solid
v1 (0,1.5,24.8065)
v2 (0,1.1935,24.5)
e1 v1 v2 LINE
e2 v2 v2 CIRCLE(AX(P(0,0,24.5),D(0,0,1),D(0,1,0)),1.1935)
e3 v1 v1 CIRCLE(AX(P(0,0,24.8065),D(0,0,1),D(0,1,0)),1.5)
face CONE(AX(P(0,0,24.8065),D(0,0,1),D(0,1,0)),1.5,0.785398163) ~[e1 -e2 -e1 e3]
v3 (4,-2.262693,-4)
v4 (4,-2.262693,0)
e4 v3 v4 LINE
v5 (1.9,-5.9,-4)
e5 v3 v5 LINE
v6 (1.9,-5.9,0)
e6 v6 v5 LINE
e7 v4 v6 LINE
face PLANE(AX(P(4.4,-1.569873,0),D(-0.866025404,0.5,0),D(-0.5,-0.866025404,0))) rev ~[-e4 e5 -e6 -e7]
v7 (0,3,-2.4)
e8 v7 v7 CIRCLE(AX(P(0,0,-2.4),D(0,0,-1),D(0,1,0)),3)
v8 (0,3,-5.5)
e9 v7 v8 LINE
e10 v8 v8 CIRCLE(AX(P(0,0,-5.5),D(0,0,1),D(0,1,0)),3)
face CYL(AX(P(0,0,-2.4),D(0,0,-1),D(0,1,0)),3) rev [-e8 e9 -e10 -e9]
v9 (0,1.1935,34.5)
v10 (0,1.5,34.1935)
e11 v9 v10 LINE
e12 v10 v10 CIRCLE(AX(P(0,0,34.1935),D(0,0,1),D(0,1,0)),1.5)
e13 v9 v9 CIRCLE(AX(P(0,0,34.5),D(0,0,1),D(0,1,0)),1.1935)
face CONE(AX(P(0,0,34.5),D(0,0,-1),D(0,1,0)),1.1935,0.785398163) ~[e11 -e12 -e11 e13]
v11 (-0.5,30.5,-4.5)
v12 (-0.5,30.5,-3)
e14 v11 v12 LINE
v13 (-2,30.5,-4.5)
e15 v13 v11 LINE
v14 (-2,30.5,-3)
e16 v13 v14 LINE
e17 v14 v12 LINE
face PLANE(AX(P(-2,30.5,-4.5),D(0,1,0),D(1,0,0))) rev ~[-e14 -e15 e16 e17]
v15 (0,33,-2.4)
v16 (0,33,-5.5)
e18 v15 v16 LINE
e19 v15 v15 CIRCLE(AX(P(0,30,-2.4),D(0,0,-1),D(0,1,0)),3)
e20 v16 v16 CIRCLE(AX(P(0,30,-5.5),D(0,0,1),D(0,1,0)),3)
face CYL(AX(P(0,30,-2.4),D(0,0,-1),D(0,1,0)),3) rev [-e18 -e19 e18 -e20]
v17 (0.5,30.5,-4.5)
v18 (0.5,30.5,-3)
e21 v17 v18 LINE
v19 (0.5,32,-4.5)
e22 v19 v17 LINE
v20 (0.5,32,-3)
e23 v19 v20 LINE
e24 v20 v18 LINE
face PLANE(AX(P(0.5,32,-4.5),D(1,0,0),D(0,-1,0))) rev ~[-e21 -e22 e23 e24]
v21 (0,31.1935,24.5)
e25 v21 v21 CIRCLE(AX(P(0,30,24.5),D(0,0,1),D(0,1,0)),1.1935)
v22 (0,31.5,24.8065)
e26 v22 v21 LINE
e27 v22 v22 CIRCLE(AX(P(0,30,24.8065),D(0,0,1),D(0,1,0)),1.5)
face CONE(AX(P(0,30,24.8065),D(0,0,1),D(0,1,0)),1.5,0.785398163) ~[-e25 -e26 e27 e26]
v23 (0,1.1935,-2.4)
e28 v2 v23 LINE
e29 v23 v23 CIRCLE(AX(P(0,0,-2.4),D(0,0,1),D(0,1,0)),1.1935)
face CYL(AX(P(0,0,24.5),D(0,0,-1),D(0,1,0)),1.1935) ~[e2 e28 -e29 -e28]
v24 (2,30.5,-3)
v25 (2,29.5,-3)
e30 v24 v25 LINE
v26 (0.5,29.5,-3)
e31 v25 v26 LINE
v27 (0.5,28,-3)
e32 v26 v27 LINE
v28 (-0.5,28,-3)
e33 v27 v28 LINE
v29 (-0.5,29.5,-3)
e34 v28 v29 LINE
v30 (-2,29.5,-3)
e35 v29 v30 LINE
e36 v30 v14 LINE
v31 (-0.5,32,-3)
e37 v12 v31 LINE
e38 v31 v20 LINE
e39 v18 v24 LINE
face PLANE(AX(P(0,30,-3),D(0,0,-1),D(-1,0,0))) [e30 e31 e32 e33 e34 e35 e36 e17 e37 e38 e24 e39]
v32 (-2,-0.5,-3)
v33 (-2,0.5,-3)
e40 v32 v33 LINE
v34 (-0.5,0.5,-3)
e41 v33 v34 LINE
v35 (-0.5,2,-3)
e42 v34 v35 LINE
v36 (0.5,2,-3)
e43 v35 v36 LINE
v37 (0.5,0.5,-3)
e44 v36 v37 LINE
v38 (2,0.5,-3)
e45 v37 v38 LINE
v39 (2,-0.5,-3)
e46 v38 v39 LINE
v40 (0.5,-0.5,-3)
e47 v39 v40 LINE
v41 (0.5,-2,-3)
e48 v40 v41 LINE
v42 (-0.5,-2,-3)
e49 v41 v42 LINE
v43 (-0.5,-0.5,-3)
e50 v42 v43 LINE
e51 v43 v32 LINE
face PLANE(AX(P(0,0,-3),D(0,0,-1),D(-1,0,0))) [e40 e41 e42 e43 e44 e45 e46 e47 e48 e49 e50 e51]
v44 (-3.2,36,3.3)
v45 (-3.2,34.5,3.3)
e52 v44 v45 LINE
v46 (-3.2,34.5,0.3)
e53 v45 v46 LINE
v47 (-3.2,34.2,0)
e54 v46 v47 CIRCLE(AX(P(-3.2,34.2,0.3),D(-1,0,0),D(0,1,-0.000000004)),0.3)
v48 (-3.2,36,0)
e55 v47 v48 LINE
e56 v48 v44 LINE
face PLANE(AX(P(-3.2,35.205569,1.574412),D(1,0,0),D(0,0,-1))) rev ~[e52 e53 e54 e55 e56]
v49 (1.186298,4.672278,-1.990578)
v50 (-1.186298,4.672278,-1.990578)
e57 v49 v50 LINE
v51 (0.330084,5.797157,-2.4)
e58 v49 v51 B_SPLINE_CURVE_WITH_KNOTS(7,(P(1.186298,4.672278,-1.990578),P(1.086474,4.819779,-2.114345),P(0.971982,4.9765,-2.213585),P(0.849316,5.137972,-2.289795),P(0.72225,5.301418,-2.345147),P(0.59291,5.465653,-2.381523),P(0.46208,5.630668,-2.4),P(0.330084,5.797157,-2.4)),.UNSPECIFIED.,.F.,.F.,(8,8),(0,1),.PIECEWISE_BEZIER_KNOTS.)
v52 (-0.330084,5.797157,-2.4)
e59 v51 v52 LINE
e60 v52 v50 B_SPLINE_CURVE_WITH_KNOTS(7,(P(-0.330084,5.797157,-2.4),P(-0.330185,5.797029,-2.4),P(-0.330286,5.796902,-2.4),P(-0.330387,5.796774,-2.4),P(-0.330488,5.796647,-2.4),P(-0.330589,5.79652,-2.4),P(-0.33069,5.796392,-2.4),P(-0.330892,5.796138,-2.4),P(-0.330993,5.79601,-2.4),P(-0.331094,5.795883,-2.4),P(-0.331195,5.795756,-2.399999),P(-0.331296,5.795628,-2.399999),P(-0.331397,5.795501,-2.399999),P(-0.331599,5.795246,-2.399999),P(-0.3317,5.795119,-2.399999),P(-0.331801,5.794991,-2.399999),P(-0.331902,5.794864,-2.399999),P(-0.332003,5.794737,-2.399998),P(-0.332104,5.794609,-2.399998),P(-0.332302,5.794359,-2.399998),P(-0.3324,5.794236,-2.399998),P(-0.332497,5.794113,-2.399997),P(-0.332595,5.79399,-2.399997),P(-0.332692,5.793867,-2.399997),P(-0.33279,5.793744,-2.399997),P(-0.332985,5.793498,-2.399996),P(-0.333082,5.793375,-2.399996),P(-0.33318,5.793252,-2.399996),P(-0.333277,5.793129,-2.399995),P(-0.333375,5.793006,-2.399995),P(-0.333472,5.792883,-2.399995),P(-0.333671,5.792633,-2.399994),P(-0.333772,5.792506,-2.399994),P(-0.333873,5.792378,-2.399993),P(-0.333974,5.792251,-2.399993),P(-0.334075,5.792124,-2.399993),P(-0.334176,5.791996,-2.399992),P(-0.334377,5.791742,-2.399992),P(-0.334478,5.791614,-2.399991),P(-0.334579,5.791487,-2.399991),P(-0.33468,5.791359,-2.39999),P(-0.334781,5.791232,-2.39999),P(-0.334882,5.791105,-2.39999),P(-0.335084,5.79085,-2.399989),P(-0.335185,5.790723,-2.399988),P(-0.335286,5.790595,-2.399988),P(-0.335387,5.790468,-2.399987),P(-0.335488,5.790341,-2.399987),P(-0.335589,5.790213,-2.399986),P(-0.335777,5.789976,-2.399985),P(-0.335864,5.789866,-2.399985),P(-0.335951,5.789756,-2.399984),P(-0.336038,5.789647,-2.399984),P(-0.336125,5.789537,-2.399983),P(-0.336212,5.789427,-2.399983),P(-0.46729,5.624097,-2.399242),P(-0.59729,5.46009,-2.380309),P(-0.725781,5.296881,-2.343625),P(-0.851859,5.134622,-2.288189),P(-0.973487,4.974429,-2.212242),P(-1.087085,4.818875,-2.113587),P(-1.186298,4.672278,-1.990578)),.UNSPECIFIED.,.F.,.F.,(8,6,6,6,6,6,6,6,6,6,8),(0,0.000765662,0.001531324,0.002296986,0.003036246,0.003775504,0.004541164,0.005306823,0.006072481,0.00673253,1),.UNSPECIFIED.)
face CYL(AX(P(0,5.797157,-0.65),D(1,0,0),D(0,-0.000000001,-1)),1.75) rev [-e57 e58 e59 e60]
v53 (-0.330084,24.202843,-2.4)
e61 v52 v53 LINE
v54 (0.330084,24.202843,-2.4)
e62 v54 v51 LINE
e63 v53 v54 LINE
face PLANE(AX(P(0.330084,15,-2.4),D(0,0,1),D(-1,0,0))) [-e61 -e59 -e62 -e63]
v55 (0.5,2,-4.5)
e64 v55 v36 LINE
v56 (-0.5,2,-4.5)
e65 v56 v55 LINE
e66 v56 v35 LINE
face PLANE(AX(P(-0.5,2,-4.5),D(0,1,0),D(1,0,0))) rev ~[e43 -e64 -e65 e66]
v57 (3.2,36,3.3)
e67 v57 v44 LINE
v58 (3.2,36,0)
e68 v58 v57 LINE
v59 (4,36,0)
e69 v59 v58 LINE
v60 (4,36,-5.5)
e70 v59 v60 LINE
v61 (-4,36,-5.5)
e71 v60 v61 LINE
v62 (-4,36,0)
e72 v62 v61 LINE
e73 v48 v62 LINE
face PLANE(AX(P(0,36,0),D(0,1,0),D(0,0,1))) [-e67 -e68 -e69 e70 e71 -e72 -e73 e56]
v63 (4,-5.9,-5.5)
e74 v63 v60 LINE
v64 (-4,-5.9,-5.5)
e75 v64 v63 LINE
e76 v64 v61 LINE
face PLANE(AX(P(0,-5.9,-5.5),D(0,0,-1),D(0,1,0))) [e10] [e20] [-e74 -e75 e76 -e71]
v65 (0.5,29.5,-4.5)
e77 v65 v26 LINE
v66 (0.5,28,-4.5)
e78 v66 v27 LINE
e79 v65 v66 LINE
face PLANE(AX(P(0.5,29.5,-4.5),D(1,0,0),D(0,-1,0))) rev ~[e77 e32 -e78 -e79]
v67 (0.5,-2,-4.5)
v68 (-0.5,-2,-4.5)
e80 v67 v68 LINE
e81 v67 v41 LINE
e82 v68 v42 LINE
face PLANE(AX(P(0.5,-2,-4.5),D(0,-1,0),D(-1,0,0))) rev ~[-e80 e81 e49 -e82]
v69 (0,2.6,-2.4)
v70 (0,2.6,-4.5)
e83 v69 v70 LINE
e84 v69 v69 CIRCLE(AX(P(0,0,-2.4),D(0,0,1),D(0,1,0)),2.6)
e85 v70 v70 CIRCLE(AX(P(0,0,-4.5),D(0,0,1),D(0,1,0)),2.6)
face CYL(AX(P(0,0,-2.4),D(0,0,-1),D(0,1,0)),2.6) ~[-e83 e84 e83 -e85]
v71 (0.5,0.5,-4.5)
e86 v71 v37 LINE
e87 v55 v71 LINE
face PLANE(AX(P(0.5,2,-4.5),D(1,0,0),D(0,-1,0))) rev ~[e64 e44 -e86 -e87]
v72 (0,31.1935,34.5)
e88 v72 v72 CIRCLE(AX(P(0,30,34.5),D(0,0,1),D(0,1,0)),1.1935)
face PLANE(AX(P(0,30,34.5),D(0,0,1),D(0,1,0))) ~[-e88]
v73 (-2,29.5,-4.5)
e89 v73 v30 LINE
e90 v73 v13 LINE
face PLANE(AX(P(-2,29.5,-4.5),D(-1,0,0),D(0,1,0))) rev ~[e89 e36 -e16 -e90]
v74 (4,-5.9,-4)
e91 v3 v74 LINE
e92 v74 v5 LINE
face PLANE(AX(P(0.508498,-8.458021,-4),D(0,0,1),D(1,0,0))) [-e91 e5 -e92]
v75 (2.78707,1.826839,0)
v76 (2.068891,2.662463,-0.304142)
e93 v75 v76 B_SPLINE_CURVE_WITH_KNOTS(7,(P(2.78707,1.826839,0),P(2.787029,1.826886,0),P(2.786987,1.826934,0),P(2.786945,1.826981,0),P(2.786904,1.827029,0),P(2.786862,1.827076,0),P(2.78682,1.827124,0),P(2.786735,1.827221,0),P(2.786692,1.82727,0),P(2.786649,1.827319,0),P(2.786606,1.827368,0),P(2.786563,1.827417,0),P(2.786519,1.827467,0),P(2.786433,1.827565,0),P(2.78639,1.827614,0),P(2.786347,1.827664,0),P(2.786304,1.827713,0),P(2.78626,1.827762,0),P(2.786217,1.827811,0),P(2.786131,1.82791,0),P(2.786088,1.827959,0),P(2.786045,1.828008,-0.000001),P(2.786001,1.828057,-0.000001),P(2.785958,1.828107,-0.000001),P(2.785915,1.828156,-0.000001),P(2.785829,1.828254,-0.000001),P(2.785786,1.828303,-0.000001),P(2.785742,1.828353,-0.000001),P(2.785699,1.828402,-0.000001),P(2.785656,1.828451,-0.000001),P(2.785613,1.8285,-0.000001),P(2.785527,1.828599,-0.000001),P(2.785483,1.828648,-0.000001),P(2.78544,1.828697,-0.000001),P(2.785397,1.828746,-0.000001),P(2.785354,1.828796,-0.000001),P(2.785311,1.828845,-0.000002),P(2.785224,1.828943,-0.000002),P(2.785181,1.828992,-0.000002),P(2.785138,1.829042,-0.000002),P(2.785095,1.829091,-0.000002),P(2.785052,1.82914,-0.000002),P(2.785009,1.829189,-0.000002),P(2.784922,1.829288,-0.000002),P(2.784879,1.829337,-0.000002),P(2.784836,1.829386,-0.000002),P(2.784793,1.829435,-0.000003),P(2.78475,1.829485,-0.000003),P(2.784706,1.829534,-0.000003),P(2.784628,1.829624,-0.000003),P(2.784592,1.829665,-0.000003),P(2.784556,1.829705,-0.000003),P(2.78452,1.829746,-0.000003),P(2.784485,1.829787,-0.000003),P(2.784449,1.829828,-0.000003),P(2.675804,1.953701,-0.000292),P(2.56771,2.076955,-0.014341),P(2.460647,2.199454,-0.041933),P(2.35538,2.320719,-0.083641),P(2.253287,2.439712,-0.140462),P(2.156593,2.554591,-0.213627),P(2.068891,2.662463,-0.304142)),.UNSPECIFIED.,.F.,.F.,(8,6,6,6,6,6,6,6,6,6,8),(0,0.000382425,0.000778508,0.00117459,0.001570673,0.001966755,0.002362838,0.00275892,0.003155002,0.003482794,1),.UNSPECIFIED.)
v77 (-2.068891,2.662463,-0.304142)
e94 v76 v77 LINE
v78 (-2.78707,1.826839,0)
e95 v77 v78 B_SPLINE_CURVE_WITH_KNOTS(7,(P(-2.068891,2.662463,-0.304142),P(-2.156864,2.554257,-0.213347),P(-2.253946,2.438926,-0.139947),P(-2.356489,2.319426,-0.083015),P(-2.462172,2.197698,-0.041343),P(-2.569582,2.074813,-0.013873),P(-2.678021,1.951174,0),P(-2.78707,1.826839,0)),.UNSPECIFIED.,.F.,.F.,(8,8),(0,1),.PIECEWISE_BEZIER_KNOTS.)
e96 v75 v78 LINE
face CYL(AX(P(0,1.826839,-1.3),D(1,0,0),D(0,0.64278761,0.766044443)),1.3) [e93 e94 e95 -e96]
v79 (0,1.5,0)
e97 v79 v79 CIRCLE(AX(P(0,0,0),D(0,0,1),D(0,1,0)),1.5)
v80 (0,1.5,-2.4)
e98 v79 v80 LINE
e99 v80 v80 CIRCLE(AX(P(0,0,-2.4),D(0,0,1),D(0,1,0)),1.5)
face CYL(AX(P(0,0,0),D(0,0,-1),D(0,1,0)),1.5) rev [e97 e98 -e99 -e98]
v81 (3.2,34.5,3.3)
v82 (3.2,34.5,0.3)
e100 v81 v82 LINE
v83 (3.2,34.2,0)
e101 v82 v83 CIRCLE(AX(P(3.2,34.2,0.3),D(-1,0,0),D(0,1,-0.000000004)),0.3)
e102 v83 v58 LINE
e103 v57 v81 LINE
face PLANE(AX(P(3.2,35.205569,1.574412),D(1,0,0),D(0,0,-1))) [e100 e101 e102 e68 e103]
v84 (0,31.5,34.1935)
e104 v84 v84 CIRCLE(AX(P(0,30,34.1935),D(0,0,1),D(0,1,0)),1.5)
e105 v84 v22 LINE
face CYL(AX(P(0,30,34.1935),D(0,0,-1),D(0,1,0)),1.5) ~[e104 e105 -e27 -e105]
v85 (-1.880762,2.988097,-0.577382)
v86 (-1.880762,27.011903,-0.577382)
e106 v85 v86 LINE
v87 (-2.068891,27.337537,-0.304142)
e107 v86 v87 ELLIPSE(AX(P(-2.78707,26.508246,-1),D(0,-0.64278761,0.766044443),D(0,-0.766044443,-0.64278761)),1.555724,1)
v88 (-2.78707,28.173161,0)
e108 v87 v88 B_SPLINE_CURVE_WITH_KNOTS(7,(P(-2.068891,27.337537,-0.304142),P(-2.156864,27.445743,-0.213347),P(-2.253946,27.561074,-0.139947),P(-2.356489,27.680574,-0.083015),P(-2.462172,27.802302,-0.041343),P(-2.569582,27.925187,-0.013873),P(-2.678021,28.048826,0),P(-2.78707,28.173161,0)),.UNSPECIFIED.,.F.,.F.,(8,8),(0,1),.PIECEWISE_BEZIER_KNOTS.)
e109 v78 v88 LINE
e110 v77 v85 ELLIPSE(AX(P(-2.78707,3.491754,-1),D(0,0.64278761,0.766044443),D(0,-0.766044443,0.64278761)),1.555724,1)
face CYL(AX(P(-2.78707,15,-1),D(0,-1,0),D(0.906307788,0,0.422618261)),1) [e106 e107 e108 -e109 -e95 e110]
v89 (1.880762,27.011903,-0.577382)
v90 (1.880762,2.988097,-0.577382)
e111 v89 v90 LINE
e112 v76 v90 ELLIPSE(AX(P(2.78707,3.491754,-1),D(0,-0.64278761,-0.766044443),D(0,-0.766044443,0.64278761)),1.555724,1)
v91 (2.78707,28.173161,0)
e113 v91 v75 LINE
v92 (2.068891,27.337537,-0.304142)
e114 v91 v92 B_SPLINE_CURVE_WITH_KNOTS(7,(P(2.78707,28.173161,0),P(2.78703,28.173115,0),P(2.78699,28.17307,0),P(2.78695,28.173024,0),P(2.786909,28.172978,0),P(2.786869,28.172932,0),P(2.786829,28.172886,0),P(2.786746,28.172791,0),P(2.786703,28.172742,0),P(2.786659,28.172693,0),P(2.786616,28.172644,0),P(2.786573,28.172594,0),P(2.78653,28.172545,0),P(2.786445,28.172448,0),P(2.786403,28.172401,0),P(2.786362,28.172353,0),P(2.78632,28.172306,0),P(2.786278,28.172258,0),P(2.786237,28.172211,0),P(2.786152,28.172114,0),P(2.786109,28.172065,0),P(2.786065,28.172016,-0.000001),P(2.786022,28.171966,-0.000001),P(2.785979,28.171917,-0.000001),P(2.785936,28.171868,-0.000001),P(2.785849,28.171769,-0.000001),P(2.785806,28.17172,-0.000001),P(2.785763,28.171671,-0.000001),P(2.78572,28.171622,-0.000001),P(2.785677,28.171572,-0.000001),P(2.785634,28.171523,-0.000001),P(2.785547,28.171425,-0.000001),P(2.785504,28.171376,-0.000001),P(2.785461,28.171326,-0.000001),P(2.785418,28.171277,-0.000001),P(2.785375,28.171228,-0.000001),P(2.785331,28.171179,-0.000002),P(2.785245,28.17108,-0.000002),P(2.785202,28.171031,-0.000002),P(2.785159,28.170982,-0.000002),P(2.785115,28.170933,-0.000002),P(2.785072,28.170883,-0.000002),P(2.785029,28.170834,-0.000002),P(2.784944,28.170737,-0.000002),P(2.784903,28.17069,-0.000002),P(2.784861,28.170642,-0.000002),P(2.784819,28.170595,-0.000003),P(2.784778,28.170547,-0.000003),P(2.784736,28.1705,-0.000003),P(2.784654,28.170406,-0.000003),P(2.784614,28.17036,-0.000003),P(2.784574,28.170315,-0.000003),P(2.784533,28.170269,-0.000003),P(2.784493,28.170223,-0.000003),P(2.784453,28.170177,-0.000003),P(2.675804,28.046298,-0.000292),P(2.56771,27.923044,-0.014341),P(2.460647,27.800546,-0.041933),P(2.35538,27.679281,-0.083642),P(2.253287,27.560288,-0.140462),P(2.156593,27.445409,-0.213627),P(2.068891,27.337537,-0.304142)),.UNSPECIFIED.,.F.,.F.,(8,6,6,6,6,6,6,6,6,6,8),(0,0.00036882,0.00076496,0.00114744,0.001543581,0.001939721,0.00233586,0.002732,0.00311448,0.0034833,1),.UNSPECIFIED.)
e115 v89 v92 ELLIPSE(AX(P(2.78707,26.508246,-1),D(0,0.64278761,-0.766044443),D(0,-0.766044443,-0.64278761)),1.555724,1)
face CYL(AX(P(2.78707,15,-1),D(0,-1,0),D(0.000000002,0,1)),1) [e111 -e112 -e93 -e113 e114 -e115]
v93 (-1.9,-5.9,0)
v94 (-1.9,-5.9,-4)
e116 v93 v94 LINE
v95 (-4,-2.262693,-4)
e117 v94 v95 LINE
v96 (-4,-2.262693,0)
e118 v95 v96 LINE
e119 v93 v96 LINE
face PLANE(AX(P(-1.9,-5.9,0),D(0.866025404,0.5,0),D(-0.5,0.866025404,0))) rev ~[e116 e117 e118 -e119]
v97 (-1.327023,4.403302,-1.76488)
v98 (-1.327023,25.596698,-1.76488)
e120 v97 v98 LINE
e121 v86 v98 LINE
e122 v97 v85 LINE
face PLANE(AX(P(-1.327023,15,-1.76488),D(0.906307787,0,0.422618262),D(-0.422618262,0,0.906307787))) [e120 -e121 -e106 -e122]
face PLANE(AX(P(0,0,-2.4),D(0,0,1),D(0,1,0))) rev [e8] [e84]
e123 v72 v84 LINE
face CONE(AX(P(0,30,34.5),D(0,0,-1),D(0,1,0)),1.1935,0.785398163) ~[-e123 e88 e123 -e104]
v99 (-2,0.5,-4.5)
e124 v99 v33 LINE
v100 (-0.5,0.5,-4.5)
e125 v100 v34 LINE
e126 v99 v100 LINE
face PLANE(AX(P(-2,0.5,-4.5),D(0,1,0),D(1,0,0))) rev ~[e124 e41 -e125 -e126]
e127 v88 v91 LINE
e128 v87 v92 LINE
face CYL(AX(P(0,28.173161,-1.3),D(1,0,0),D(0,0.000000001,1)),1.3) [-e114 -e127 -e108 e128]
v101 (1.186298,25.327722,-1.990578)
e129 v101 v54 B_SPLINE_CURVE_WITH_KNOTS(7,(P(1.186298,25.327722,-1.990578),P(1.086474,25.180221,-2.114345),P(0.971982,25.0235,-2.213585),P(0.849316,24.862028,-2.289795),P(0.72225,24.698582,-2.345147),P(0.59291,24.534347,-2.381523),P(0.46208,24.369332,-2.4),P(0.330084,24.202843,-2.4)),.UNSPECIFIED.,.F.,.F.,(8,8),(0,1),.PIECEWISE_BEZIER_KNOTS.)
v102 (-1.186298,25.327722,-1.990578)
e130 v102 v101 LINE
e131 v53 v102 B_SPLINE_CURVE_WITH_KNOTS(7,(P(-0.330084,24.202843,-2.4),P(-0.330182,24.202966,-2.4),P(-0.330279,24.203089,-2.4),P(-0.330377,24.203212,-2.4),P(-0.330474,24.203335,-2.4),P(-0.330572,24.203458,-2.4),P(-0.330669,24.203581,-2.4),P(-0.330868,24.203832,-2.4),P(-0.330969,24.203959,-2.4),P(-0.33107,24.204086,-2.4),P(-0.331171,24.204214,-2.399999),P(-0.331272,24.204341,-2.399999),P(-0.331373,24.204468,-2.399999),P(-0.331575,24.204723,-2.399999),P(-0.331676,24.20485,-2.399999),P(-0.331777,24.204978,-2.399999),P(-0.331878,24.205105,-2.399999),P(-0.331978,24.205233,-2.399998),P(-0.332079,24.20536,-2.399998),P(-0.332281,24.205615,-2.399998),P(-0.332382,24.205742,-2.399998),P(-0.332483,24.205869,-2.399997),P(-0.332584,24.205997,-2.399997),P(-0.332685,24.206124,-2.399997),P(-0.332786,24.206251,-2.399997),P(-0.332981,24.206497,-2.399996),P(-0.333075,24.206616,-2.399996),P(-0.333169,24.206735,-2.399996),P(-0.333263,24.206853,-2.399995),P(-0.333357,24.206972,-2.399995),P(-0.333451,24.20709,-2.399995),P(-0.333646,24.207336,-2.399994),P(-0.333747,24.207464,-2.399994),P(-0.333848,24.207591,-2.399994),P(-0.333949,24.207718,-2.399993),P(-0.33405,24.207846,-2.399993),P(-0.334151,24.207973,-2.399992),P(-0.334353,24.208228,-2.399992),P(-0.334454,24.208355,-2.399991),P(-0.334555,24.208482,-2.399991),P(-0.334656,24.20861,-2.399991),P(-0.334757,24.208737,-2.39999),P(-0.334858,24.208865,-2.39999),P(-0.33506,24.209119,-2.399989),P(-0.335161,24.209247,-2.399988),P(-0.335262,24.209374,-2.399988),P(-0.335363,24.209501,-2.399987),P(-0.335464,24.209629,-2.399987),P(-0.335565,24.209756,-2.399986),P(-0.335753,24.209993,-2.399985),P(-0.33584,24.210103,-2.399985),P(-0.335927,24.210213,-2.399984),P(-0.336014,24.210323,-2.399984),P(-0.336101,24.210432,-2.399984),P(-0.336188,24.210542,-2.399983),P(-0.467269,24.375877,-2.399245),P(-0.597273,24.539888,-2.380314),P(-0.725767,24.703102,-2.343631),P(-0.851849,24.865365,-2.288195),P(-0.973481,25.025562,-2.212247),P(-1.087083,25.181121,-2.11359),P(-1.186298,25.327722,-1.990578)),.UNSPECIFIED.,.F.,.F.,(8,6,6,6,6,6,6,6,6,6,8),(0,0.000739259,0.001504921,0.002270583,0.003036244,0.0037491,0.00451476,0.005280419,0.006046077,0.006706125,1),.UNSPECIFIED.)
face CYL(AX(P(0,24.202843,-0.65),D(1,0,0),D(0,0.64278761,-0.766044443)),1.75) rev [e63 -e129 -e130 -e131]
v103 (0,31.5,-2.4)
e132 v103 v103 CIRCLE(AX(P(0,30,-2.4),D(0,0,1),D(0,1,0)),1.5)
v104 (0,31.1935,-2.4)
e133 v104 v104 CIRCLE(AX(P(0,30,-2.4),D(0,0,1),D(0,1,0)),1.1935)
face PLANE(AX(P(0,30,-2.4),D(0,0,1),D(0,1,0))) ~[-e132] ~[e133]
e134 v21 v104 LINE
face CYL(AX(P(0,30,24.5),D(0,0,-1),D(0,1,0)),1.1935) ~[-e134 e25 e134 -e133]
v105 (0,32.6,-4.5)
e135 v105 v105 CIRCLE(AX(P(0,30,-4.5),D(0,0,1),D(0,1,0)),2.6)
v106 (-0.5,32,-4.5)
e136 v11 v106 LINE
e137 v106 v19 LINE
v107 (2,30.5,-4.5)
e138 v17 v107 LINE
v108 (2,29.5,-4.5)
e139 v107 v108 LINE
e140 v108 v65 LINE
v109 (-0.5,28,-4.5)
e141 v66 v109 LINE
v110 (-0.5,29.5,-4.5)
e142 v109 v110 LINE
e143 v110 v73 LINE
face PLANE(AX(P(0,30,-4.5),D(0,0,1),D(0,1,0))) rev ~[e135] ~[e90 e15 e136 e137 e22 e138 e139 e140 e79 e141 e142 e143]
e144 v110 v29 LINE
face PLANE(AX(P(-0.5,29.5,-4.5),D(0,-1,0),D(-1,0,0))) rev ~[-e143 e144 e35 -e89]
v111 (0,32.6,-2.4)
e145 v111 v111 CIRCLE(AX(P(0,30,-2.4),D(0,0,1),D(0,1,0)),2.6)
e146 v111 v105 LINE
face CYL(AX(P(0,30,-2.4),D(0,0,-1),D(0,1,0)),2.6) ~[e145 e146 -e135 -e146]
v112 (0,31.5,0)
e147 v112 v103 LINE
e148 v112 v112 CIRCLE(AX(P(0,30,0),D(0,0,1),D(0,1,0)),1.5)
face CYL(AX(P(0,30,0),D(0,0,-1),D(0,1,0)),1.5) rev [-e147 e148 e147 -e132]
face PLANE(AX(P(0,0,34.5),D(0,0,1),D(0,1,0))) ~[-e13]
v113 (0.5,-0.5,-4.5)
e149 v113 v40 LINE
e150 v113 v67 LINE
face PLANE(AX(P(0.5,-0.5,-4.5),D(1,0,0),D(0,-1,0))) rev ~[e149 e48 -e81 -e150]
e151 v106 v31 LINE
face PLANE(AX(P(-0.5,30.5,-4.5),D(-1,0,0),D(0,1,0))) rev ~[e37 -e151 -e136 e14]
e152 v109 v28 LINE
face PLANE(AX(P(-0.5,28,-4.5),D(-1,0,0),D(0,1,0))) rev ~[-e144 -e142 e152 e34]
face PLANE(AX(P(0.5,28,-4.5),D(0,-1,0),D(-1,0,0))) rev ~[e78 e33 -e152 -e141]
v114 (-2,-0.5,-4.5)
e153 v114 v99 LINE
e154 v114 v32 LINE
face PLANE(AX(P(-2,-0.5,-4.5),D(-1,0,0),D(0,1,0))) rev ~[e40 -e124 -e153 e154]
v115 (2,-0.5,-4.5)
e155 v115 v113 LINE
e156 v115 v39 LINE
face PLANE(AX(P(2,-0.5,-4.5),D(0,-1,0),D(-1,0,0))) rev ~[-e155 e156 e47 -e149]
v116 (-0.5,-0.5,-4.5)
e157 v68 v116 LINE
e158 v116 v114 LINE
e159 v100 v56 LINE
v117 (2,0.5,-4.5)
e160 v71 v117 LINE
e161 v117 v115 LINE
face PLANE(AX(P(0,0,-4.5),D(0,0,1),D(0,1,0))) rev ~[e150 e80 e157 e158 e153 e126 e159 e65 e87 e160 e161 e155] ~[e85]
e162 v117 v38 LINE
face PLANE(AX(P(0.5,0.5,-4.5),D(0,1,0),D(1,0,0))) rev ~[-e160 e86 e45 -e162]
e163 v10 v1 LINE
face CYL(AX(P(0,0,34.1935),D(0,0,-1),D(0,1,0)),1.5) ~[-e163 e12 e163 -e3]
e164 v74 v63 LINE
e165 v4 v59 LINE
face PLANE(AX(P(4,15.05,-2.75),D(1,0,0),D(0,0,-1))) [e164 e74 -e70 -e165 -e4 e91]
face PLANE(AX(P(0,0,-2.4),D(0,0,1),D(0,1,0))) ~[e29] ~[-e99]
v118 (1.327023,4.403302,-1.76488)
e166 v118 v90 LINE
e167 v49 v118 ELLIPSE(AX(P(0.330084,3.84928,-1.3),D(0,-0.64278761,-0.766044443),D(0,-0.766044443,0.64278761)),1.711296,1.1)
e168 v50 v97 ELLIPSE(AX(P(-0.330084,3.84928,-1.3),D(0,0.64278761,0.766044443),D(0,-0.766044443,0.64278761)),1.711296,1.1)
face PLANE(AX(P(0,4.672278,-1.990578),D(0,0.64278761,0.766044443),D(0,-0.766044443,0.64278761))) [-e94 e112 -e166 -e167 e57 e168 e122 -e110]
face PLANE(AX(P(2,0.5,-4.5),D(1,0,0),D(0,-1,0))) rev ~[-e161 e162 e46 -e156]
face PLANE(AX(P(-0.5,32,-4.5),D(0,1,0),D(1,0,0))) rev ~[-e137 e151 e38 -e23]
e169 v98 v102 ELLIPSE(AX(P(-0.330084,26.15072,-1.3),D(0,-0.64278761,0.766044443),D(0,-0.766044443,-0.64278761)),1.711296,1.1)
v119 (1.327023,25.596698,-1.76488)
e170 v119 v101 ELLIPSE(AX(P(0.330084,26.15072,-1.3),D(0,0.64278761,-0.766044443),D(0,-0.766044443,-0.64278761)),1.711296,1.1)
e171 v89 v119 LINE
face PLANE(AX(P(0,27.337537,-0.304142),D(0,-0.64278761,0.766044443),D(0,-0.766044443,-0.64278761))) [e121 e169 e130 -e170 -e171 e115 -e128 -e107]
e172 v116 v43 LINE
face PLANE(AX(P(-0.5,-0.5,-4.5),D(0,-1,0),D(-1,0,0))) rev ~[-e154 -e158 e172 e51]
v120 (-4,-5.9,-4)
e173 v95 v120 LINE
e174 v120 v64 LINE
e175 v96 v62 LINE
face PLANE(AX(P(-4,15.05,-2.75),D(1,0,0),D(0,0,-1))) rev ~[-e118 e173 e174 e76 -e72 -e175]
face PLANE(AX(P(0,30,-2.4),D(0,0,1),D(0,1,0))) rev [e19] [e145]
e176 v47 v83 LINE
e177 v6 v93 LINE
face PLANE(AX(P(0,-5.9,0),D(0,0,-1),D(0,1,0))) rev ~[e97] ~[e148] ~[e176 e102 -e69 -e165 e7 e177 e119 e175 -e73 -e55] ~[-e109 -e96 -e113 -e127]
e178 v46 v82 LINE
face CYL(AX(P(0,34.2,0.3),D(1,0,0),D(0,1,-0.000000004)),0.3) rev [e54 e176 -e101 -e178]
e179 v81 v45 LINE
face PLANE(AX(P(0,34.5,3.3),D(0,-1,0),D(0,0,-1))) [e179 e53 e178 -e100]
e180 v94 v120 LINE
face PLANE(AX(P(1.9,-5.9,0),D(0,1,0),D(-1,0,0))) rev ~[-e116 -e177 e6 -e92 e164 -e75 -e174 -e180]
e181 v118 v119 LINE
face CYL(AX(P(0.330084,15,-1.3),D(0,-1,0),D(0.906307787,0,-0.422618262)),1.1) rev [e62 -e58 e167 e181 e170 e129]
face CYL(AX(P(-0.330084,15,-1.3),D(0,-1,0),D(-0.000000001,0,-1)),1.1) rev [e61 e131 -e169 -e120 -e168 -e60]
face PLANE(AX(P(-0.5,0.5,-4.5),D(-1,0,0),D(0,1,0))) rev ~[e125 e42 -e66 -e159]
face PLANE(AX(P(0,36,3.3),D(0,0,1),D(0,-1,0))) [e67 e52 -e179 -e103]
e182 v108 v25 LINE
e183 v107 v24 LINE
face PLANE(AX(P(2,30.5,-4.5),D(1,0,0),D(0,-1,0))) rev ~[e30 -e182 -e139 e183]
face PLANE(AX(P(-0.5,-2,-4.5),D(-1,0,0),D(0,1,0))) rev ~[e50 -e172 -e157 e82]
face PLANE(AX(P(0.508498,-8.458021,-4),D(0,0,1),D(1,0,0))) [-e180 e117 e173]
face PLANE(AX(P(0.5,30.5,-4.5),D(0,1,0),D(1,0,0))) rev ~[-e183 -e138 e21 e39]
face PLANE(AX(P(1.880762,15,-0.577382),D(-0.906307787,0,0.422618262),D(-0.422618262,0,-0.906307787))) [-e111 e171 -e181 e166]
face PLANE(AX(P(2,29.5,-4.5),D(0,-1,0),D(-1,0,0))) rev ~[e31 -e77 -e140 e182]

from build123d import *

# Parameters (mm, degrees)
BOSS_EXTRUDE1_DEPTH      = 4
BOSS_EXTRUDE1_DEPTH_BACK = 4
SKETCH1_W                = 5.5
SKETCH1_H                = 41.9
BOSS_EXTRUDE2_DEPTH      = 3.2
BOSS_EXTRUDE2_DEPTH_BACK = 3.2
CUT_EXTRUDE1_DEPTH       = 13.2
CUT_EXTRUDE1_DEPTH_BACK  = 13.2
BOSS_EXTRUDE3_DEPTH      = 2.85
BOSS_EXTRUDE3_DEPTH_BACK = 2.85
BOSS_EXTRUDE4_DEPTH      = 2.85
BOSS_EXTRUDE4_DEPTH_BACK = 2.85
CUT_EXTRUDE2_DEPTH       = 4
CUT_EXTRUDE3_DEPTH       = 1.5
CUT_EXTRUDE3_DEPTH_BACK  = 1.5
CUT_EXTRUDE4_DEPTH       = 1.5
CUT_EXTRUDE4_DEPTH_BACK  = 1.5


with BuildPart() as part:
    # Sketch1 → Boss-Extrude1 (new, two sides: drawn at the far end of the back side and taken through both)
    with BuildSketch(Plane(origin=(0, 0, 0), x_dir=(0, 0, -1), z_dir=(1, 0, 0)).offset(-BOSS_EXTRUDE1_DEPTH_BACK)):
        with Locations((2.75, 15.05)):
            Rectangle(SKETCH1_W, SKETCH1_H)
    extrude(amount=BOSS_EXTRUDE1_DEPTH + BOSS_EXTRUDE1_DEPTH_BACK)

    # Sketch2 → Boss-Extrude2 (add, two sides: drawn at the far end of the back side and taken through both)
    with BuildSketch(Plane(origin=(0, 0, 0), x_dir=(0, 0, -1), z_dir=(1, 0, 0)).offset(-BOSS_EXTRUDE2_DEPTH_BACK)):
        with BuildLine():
            Line((-3.3, 34.5), (-0.3, 34.5))
            ThreePointArc((-0.3, 34.5), (-0.087867966, 34.412132034), (0, 34.2))
            Line((0, 34.2), (0, 36))
            Line((0, 36), (-3.3, 36))
            Line((-3.3, 36), (-3.3, 34.5))
        make_face()
    extrude(amount=BOSS_EXTRUDE2_DEPTH + BOSS_EXTRUDE2_DEPTH_BACK)

    # Sketch3 → Cut-Revolve1 (revolve, cut)
    with BuildSketch(Plane(origin=(0, 0, 0), x_dir=(0, 0, -1), z_dir=(1, 0, 0))):
        Polygon((0, 30), (0, 31.5), (2.4, 31.5), (2.4, 33), (5.5, 33), (5.5, 30), align=None)
    revolve(axis=Axis((0, 30, -5.5), (0, 0, 1)), mode=Mode.SUBTRACT)

    # Sketch4 → Cut-Revolve2 (revolve, cut)
    with BuildSketch(Plane(origin=(0, 0, 0), x_dir=(0, 0, -1), z_dir=(1, 0, 0))):
        Polygon((0, 0), (0, 1.5), (2.4, 1.5), (2.4, 3), (5.5, 3), (5.5, 0), align=None)
    revolve(axis=Axis((0, 0, -5.5), (0, 0, 1)), mode=Mode.SUBTRACT)

    # Sketch5 → Cut-Extrude1 (cut, two sides: drawn at the far end of the back side and taken through both)
    with BuildSketch(Plane(origin=(0, 15, 0), x_dir=(1, 0, 0), z_dir=(0, 1, 0)).offset(-CUT_EXTRUDE1_DEPTH_BACK)):
        with BuildLine():
            Line((-3.5, -2.4), (3.5, -2.4))
            Line((3.5, -2.4), (3.5, 0))
            Line((3.5, 0), (2.787070261, 0))
            ThreePointArc((2.787070261, 0), (2.249770652, 0.156608554), (1.880762474, 0.577381738))
            Line((1.880762474, 0.577381738), (1.327022899, 1.764880088))
            ThreePointArc((1.327022899, 1.764880088), (0.921113903, 2.22773059), (0.330084334, 2.4))
            Line((0.330084334, 2.4), (-0.330084334, 2.4))
            ThreePointArc((-0.330084334, 2.4), (-0.921113903, 2.22773059), (-1.327022899, 1.764880088))
            Line((-1.327022899, 1.764880088), (-1.880762474, 0.577381738))
            ThreePointArc((-1.880762474, 0.577381738), (-2.249770652, 0.156608554), (-2.787070261, 0))
            Line((-2.787070261, 0), (-3.5, 0))
            Line((-3.5, 0), (-3.5, -2.4))
        make_face()
    extrude(amount=CUT_EXTRUDE1_DEPTH + CUT_EXTRUDE1_DEPTH_BACK, mode=Mode.SUBTRACT)

    # Sketch6 → Boss-Extrude3 (add, two sides: drawn at the far end of the back side and taken through both)
    with BuildSketch(Plane(origin=(0, 0, 0), x_dir=(0, 0, -1), z_dir=(1, 0, 0)).offset(-BOSS_EXTRUDE3_DEPTH_BACK)):
        with BuildLine():
            Line((0, 1.626838695), (2.4, 1.626838695))
            Line((2.4, 1.626838695), (2.4, 5.797156532))
            ThreePointArc((2.4, 5.797156532), (2.294462086, 5.198621281), (1.990577775, 4.672278215))
            Line((1.990577775, 4.672278215), (0.304142224, 2.662462588))
            ThreePointArc((0.304142224, 2.662462588), (0.078399593, 2.271464882), (0, 1.826838695))
            Line((0, 1.826838695), (0, 1.626838695))
        make_face()
    extrude(amount=BOSS_EXTRUDE3_DEPTH + BOSS_EXTRUDE3_DEPTH_BACK)

    # Sketch7 → Boss-Extrude4 (add, two sides: drawn at the far end of the back side and taken through both)
    with BuildSketch(Plane(origin=(0, 0, 0), x_dir=(0, 0, -1), z_dir=(1, 0, 0)).offset(-BOSS_EXTRUDE4_DEPTH_BACK)):
        with BuildLine():
            Line((0, 28.373161305), (0, 28.173161305))
            ThreePointArc((0, 28.173161305), (0.078399593, 27.728535118), (0.304142224, 27.337537412))
            Line((0.304142224, 27.337537412), (1.990577775, 25.327721785))
            ThreePointArc((1.990577775, 25.327721785), (2.294462086, 24.801378719), (2.4, 24.202843468))
            Line((2.4, 24.202843468), (2.4, 28.373161305))
            Line((2.4, 28.373161305), (0, 28.373161305))
        make_face()
    extrude(amount=BOSS_EXTRUDE4_DEPTH + BOSS_EXTRUDE4_DEPTH_BACK)

    # Sketch8 → Cut-Extrude2 (cut)
    with BuildSketch(Plane.XY):
        Polygon((-15, -15.264317181), (16.073788546, -15.264317181), (16.073788546, -1.569872981), (4.4, -1.569872981), (1.9, -5.9), (-1.9, -5.9), (-4.4, -1.569872981), (-15, -1.569872981), align=None)
    extrude(amount=-CUT_EXTRUDE2_DEPTH, mode=Mode.SUBTRACT)

    # Sketch9 → Revolve1 (revolve)
    with BuildSketch(Plane(origin=(0, 0, 0), x_dir=(0, 0, -1), z_dir=(1, 0, 0))):
        Polygon((-34.5, 30), (-34.5, 31.1935), (-34.1935, 31.5), (-24.8065, 31.5), (-24.5, 31.1935), (2.4, 31.1935), (2.4, 32.6), (4.5, 32.6), (4.5, 30), align=None)
    revolve(axis=Axis((0, 30, -4.5), (0, 0, 1)))

    # Sketch10 → Revolve2 (revolve)
    with BuildSketch(Plane(origin=(0, 0, 0), x_dir=(0, 0, -1), z_dir=(1, 0, 0))):
        Polygon((-34.5, 0), (-34.5, 1.1935), (-34.1935, 1.5), (-24.8065, 1.5), (-24.5, 1.1935), (2.4, 1.1935), (2.4, 2.6), (4.5, 2.6), (4.5, 0), align=None)
    revolve(axis=Axis((0, 0, -4.5), (0, 0, 1)))

    # Sketch11 → Cut-Extrude3 (cut, two sides: drawn at the far end of the back side and taken through both)
    with BuildSketch(Plane(origin=(0, 0, -4.5), x_dir=(-1, 0, 0), z_dir=(0, 0, -1)).offset(-CUT_EXTRUDE3_DEPTH_BACK)):
        Polygon((0.5, 28), (0.5, 29.5), (2, 29.5), (2, 30.5), (0.5, 30.5), (0.5, 32), (-0.5, 32), (-0.5, 30.5), (-2, 30.5), (-2, 29.5), (-0.5, 29.5), (-0.5, 28), align=None)
    extrude(amount=CUT_EXTRUDE3_DEPTH + CUT_EXTRUDE3_DEPTH_BACK, mode=Mode.SUBTRACT)

    # Sketch12 → Cut-Extrude4 (cut, two sides: drawn at the far end of the back side and taken through both)
    with BuildSketch(Plane(origin=(0, 0, -4.5), x_dir=(-1, 0, 0), z_dir=(0, 0, -1)).offset(-CUT_EXTRUDE4_DEPTH_BACK)):
        Polygon((0.5, -2), (0.5, -0.5), (2, -0.5), (2, 0.5), (0.5, 0.5), (0.5, 2), (-0.5, 2), (-0.5, 0.5), (-2, 0.5), (-2, -0.5), (-0.5, -0.5), (-0.5, -2), align=None)
    extrude(amount=CUT_EXTRUDE4_DEPTH + CUT_EXTRUDE4_DEPTH_BACK, mode=Mode.SUBTRACT)


solid = part.part
